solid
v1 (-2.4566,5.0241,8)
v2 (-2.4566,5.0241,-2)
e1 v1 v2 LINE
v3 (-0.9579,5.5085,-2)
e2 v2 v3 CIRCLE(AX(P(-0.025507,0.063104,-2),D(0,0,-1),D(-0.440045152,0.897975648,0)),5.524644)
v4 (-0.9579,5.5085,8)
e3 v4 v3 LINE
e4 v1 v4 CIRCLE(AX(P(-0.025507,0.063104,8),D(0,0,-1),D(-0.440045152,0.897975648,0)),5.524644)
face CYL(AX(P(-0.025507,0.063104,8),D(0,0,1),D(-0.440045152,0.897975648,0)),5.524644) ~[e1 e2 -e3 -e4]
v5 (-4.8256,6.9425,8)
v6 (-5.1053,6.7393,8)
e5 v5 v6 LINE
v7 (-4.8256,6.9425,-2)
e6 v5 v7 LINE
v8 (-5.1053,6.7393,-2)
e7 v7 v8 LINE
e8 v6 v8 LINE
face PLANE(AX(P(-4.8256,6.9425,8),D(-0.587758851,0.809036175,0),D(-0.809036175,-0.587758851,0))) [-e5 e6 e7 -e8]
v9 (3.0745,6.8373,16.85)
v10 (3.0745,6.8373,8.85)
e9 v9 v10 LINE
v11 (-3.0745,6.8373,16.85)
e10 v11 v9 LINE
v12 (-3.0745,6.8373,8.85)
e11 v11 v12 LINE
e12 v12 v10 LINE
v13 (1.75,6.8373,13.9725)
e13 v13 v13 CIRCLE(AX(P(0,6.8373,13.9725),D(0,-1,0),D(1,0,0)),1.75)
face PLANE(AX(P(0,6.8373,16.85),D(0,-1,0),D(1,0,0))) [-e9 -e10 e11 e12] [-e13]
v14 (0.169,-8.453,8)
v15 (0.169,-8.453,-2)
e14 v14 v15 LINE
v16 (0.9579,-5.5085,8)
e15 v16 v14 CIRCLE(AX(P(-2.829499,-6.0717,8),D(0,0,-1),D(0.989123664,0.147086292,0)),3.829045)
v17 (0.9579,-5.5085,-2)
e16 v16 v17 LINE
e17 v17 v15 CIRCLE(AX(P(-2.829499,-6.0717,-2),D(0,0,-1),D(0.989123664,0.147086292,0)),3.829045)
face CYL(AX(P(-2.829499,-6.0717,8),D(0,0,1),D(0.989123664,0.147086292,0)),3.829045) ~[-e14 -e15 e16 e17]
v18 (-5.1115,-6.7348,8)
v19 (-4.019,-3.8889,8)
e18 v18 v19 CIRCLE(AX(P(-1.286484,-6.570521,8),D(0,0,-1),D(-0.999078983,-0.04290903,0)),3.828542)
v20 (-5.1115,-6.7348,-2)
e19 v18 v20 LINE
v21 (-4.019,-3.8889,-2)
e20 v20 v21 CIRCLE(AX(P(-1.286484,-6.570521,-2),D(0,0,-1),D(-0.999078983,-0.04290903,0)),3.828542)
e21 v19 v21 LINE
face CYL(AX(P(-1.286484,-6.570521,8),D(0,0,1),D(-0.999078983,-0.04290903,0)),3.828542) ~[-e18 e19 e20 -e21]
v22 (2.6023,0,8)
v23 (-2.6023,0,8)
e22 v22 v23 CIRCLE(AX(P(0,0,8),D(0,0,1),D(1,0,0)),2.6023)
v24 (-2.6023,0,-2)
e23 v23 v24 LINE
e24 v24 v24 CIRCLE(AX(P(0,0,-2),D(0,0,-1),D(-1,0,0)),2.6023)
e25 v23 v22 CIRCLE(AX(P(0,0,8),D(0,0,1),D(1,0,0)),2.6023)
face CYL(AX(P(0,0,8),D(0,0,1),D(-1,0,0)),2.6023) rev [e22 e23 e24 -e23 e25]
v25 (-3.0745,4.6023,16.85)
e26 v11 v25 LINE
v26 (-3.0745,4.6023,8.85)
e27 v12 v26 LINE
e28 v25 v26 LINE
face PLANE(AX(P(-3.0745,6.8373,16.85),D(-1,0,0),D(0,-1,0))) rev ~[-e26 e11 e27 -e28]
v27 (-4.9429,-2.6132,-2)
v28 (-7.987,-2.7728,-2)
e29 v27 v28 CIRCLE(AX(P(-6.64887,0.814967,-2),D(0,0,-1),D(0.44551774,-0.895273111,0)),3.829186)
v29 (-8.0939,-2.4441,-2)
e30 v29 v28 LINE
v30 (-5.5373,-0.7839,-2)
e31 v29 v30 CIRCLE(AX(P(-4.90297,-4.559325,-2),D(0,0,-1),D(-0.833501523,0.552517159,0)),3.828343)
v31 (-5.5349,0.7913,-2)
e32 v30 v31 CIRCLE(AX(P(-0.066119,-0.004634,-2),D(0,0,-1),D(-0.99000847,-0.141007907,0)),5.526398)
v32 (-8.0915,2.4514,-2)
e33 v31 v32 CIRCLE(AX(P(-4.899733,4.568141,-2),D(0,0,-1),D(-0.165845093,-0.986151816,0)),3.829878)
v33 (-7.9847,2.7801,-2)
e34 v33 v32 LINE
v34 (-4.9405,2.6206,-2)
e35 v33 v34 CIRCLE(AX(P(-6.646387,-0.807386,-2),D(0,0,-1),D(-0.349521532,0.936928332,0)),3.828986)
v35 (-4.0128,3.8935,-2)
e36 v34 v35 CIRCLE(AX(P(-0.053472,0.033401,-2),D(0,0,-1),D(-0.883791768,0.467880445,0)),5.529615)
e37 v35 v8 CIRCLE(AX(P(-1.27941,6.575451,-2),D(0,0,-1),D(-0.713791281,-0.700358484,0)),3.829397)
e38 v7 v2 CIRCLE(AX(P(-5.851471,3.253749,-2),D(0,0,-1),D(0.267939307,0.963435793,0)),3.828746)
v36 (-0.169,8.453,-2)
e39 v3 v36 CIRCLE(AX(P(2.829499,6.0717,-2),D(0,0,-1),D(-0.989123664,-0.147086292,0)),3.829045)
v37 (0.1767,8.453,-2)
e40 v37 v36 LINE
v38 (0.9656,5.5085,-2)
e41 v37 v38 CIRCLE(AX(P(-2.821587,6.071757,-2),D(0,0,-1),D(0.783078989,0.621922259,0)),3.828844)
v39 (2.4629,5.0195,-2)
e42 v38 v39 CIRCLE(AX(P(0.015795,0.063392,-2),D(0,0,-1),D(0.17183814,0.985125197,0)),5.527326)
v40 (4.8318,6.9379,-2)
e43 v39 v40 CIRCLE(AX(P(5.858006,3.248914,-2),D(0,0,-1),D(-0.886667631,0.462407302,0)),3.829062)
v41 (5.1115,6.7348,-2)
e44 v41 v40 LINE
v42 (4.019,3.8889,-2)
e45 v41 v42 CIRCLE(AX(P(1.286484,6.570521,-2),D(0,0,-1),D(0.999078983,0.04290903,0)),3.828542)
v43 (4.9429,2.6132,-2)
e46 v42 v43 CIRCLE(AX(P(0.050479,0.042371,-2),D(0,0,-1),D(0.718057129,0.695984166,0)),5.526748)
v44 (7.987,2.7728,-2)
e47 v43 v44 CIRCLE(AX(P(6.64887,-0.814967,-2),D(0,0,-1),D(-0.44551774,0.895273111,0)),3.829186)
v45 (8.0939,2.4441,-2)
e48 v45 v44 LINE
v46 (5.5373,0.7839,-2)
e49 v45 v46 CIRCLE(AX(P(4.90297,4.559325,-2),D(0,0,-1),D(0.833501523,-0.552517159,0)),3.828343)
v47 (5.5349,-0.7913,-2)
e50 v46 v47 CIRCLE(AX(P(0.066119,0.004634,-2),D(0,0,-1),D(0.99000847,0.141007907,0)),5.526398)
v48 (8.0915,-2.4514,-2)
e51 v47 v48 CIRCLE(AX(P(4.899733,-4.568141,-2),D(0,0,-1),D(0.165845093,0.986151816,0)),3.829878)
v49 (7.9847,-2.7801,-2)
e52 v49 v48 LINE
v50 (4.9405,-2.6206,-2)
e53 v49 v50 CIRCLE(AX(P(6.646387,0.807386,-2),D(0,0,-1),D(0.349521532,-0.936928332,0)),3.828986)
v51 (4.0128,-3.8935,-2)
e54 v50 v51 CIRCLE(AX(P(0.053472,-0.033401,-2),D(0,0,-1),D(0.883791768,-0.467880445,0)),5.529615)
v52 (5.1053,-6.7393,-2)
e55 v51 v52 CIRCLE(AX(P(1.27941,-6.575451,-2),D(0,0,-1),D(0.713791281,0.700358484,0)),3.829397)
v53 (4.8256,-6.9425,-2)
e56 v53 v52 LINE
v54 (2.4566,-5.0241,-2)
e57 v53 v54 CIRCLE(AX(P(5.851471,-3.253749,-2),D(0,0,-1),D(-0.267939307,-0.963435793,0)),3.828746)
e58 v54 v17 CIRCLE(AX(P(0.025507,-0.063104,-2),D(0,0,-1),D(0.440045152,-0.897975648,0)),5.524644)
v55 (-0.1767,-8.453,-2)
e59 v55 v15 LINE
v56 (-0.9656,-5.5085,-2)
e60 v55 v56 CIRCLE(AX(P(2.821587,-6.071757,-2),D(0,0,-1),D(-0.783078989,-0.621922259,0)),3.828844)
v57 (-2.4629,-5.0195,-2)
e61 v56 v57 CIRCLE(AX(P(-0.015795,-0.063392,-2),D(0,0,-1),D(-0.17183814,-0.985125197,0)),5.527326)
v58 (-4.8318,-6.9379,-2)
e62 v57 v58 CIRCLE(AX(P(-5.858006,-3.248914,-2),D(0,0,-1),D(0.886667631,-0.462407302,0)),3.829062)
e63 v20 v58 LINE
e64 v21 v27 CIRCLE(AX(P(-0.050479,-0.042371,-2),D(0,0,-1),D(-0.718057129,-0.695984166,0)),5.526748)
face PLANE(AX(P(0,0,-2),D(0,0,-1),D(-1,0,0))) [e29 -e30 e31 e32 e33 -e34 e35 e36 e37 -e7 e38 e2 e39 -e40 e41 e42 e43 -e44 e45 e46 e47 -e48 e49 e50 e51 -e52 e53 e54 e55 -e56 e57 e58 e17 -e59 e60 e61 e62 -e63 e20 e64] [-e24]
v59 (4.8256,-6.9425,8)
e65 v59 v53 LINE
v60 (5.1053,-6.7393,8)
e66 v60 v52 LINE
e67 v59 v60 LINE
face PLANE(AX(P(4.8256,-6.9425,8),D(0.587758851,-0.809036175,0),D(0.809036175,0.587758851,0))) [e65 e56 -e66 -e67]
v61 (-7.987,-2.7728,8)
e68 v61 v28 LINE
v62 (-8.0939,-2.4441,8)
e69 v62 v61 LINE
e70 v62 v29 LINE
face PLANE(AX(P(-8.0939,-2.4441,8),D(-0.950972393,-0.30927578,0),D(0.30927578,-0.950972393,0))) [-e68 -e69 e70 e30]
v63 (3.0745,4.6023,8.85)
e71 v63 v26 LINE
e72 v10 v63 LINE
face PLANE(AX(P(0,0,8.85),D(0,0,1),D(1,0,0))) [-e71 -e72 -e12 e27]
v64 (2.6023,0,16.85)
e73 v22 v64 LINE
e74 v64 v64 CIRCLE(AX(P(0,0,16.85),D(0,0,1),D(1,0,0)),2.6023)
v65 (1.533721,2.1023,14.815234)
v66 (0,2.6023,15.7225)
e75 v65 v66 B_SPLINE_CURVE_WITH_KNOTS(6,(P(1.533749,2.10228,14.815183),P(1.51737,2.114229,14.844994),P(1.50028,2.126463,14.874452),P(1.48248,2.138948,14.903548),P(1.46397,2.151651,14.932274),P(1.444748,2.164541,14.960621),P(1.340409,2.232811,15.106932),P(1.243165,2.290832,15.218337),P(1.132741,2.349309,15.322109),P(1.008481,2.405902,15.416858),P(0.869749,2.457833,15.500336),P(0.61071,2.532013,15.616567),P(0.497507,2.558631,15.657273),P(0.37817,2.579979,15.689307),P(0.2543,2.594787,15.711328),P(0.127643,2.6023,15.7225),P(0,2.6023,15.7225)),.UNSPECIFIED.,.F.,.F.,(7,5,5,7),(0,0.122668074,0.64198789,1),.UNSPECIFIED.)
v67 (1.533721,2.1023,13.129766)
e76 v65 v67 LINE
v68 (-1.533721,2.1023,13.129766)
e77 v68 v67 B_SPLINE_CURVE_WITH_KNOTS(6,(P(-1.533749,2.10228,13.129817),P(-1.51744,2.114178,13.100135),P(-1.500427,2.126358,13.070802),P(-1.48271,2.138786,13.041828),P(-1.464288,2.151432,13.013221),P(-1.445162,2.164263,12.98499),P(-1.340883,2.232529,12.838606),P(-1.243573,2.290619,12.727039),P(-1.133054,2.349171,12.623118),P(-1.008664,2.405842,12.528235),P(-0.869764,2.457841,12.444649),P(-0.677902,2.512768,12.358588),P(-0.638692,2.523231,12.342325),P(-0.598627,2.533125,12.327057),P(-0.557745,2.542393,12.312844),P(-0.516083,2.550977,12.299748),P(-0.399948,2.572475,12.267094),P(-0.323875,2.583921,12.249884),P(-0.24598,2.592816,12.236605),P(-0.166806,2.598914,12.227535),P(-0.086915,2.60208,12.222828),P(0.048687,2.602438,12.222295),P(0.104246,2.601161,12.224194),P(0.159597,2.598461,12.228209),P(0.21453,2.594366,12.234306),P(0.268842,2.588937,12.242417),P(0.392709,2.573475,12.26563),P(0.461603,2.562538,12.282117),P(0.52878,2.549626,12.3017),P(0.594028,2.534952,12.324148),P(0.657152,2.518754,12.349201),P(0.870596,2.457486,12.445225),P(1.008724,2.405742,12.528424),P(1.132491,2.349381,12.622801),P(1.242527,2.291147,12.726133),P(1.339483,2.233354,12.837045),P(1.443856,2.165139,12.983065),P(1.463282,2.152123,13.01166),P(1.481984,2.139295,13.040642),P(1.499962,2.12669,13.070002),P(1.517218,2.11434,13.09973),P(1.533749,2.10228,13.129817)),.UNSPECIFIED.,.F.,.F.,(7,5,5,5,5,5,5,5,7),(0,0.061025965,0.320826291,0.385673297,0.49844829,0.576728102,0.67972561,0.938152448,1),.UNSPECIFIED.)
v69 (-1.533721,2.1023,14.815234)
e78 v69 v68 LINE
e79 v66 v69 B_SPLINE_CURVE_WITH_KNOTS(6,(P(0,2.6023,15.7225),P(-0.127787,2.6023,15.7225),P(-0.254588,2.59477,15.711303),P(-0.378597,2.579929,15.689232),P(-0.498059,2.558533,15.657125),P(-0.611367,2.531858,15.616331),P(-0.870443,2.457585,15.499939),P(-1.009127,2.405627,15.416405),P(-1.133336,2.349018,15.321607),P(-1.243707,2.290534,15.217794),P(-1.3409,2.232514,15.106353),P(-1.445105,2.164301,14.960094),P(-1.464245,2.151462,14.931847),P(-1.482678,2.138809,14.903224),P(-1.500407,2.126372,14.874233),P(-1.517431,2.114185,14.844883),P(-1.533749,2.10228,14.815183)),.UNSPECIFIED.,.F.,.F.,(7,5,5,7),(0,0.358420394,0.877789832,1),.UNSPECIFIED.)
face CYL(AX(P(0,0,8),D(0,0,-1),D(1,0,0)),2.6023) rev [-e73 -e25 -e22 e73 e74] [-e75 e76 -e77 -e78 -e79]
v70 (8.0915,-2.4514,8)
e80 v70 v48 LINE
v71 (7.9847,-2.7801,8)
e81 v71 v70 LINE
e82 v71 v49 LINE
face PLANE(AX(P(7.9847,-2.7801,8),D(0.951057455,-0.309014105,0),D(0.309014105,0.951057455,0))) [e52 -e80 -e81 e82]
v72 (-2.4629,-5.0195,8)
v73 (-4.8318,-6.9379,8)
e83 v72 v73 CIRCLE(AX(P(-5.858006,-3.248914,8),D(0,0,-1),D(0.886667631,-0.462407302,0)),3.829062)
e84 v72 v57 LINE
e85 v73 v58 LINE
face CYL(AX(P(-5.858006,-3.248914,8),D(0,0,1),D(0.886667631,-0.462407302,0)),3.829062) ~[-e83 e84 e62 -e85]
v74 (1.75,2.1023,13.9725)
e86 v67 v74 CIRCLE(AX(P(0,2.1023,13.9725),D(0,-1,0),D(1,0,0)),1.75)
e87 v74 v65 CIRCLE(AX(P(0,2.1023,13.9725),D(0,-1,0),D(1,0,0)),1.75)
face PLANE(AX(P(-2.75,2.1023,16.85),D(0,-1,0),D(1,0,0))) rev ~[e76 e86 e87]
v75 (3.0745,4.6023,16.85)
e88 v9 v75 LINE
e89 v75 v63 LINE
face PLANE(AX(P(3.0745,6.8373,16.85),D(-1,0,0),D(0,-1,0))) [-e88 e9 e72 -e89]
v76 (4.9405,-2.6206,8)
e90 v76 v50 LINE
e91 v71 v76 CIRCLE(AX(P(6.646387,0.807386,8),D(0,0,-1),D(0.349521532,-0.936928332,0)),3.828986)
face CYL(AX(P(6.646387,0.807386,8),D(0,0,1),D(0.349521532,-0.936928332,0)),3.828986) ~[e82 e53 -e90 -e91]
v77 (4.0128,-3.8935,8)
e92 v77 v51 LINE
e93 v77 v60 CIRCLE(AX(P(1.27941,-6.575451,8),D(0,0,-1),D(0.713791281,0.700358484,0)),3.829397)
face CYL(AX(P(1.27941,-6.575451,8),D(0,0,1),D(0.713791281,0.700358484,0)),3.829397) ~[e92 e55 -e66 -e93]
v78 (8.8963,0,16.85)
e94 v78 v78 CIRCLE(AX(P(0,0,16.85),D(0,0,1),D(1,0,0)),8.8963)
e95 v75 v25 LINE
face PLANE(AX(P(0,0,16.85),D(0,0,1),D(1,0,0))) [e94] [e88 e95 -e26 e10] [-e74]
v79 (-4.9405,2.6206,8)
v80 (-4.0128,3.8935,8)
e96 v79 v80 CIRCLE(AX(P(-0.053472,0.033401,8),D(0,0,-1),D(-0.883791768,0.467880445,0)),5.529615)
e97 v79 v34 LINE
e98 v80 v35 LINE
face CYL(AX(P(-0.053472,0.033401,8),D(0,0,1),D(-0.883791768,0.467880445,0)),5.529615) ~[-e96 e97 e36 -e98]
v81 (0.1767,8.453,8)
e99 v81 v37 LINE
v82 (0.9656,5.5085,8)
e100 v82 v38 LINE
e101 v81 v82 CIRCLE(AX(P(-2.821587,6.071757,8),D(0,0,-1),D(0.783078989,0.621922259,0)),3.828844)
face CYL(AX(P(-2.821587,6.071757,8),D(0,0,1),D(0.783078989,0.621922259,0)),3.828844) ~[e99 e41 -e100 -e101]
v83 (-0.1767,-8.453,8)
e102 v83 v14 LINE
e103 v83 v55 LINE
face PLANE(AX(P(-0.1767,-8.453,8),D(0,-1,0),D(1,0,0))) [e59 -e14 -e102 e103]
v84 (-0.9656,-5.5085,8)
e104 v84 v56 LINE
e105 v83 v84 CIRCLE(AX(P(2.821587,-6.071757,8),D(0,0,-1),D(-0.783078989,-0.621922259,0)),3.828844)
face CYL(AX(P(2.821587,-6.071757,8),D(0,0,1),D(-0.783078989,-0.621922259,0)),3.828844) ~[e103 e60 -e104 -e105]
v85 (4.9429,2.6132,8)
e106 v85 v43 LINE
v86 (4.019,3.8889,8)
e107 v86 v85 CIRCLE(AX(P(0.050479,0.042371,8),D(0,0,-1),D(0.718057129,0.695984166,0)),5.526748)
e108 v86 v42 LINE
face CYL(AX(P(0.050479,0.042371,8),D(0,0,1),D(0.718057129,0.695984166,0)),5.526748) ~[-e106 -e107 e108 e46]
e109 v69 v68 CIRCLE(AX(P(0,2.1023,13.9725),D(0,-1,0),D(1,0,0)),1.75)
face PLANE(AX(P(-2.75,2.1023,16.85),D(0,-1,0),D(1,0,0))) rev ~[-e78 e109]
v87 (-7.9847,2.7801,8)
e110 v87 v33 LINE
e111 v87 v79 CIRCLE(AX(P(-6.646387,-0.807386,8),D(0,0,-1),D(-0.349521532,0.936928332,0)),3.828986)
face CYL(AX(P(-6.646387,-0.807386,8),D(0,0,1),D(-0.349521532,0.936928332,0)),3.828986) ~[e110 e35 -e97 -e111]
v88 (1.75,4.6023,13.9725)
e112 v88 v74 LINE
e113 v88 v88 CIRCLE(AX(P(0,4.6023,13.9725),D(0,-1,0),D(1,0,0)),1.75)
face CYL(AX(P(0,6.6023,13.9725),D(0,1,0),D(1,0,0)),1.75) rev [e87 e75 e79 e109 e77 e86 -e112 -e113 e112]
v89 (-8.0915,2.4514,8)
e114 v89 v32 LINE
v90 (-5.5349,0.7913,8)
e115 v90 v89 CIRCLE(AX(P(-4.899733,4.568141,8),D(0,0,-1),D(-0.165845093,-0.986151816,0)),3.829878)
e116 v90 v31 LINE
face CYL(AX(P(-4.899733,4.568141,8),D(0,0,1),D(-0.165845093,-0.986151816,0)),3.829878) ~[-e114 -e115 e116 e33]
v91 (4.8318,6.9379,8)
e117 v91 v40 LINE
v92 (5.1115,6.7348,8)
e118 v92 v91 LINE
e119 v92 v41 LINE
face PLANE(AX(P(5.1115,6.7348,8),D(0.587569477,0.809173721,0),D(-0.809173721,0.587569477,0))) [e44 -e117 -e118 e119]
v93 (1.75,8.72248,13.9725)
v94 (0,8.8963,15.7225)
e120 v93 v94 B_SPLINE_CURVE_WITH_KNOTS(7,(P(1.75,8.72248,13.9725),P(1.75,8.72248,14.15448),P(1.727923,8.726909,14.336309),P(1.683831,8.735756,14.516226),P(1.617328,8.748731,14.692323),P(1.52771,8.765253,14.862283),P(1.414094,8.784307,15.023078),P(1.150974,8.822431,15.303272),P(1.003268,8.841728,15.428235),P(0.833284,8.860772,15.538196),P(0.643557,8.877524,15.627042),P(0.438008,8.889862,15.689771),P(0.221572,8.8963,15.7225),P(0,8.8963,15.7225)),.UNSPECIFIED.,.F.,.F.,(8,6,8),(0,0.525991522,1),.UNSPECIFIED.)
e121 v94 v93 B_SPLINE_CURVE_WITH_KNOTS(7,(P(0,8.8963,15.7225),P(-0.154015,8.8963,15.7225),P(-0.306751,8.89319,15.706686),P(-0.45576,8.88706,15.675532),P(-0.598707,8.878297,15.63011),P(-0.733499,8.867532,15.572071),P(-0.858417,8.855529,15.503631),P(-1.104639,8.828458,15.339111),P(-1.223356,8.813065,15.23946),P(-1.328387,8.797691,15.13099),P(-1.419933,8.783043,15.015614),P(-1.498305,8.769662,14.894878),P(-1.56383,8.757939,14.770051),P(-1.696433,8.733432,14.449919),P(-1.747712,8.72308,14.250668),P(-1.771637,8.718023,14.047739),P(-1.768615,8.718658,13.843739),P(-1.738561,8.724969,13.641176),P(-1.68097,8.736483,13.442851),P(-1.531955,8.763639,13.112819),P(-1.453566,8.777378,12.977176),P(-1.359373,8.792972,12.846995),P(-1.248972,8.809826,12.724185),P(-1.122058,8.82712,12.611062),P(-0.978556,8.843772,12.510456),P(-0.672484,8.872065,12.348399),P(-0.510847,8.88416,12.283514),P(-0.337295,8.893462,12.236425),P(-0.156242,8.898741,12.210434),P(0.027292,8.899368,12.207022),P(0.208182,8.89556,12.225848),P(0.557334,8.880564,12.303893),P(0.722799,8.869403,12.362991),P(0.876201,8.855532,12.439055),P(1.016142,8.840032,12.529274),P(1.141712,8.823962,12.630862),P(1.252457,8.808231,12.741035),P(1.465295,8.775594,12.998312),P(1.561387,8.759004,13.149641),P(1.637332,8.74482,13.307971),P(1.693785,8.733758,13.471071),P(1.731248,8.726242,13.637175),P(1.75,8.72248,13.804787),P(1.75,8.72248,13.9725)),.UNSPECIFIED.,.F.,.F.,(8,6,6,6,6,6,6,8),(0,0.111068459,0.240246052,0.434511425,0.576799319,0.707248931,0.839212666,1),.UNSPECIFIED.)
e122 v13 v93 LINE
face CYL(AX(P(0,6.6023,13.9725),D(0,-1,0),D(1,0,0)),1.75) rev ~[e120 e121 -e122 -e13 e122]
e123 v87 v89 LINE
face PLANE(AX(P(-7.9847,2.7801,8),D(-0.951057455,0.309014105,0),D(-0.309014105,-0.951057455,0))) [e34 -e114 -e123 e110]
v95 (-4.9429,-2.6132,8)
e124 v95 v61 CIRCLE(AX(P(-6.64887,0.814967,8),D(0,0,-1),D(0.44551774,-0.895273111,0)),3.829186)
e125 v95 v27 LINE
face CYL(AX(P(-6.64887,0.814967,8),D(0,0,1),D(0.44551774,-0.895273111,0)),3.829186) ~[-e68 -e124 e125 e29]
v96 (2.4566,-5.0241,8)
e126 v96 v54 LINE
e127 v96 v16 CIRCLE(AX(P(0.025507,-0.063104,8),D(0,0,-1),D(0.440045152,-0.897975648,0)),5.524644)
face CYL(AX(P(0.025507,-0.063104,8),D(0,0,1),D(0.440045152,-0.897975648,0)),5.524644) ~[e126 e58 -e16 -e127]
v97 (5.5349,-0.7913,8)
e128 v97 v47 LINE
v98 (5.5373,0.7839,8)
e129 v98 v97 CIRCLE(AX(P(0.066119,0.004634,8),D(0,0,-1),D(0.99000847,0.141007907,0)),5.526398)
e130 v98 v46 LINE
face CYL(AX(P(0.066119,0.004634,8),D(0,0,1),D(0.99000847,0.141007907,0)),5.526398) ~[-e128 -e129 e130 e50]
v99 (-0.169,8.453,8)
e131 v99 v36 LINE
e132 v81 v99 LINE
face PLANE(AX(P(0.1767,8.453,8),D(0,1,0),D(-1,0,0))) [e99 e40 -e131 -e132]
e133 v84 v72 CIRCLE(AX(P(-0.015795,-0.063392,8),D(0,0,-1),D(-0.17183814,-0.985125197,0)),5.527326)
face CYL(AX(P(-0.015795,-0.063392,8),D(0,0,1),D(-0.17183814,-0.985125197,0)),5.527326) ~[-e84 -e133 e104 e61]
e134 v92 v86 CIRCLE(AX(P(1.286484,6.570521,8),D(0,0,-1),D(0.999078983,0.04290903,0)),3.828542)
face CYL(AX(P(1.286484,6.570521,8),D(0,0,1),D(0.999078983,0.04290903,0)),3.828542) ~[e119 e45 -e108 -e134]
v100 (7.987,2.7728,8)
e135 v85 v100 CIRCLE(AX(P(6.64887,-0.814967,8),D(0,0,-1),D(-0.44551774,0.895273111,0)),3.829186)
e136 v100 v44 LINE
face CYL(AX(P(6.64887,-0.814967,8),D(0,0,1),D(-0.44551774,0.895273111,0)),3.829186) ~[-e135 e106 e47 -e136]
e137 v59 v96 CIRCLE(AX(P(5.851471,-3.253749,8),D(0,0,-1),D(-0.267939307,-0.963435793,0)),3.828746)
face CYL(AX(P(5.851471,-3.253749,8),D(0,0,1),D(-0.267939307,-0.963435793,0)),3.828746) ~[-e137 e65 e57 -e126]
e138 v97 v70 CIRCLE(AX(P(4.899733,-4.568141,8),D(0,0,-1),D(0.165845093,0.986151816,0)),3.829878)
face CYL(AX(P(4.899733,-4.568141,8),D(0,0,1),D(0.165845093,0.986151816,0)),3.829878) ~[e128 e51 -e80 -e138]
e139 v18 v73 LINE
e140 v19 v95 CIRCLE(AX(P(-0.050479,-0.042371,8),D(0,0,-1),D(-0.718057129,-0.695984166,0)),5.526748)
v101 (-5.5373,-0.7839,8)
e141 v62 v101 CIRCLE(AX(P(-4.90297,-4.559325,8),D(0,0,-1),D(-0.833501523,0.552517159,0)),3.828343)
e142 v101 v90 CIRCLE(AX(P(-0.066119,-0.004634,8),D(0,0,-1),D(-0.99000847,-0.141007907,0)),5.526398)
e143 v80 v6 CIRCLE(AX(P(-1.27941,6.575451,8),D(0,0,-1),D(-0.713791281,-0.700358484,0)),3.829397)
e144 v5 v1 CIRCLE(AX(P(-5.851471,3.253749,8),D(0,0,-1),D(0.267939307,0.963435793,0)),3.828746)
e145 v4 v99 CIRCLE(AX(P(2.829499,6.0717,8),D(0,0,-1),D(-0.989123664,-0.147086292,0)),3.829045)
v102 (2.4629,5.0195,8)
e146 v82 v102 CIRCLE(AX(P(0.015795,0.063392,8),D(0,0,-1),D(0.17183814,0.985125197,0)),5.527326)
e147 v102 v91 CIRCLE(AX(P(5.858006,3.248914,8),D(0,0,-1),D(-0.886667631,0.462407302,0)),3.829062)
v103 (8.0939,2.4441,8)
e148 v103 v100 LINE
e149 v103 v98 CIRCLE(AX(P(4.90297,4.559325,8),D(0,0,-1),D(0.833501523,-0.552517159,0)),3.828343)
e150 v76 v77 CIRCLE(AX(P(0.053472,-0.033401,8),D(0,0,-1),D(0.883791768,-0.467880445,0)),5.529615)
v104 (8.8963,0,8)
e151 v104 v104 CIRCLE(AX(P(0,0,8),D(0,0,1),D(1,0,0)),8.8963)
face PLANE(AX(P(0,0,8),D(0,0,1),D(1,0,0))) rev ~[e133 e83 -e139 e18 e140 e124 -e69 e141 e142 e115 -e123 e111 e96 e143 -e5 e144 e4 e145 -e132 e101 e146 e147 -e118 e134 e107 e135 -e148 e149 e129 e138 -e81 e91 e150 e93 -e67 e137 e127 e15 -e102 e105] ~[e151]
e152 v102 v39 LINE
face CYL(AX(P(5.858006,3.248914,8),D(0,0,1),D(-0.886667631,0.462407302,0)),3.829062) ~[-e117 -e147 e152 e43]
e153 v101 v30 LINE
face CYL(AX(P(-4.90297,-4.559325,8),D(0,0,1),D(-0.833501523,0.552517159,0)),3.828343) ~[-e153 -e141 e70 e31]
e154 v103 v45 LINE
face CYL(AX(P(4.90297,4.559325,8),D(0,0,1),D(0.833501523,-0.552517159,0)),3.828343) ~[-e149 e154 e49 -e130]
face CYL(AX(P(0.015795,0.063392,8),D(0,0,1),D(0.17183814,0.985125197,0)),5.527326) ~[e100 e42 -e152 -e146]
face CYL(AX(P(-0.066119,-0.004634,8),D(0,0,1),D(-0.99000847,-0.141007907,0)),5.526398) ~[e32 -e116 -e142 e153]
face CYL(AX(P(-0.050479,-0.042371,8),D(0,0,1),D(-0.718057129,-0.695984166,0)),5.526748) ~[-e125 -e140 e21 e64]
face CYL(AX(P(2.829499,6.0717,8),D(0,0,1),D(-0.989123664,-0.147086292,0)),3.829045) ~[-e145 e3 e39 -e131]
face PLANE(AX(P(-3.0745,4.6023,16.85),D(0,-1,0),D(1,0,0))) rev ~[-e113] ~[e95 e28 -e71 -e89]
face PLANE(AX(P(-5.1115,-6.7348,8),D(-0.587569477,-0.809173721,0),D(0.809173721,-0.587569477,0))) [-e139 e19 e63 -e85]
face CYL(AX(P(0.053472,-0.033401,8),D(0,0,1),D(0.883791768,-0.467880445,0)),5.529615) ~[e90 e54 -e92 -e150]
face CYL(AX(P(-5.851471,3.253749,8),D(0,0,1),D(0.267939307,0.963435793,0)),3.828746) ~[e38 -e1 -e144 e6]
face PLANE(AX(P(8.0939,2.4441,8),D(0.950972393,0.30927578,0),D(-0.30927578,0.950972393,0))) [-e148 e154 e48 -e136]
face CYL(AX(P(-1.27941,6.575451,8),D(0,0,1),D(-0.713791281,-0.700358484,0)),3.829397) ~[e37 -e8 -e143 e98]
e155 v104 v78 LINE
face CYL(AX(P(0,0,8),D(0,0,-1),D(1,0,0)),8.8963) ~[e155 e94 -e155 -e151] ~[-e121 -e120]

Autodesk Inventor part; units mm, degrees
ref_plane "YZ Plane" through (0, 0, 0) normal (1, 0, 0) x (0, 1, 0)
ref_plane "XZ Plane" through (0, 0, 0) normal (0, 1, 0) x (-1, 0, 0)
ref_plane "XY Plane" through (0, 0, 0) normal (0, 0, 1) x (1, 0, 0)
ref_plane "Work Plane1" through (0, 0, 8) normal (0, 0, 1) x (1, 0, 0)
sketch "Sketch1" plane through (0, 0, 0) normal (0, 0, 1) x (1, 0, 0)
  circle A0 centre (0, 0) radius 2.6023
  line L0 (-0.1767, 8.453) -> (0.1689, 8.453)
  line L1 (0.1689, 8.453) -> (0.9579, 5.5085) construction
  arc A1 (-0.1767, 8.453) -> (-0.9656, 5.5084) centre (2.8217, 6.0717) ccw
  line L2 (-5.1115, 6.7348) -> (-4.8319, 6.9379)
  arc A2 (-2.4629, 5.0195) -> (-4.8319, 6.9379) centre (-5.8579, 3.249) ccw
  line L3 (-4.8319, 6.9379) -> (-2.4629, 5.0195) construction
  arc A3 (-5.1115, 6.7348) -> (-4.0189, 3.8888) centre (-1.286, 6.5706) ccw
  line L4 (-8.0939, 2.4441) -> (-7.9871, 2.7727)
  arc A4 (-4.9429, 2.6132) -> (-7.9871, 2.7727) centre (-6.6488, -0.8147) ccw
  line L5 (-7.9871, 2.7727) -> (-4.9429, 2.6132) construction
  arc A5 (-8.0939, 2.4441) -> (-5.5371, 0.7838) centre (-4.9025, 4.5598) ccw
  line L6 (-7.9847, -2.7801) -> (-8.0915, -2.4515)
  arc A6 (-5.5349, -0.7913) -> (-8.0915, -2.4515) centre (-4.9001, -4.5672) ccw
  line L7 (-8.0915, -2.4515) -> (-5.5349, -0.7913) construction
  arc A7 (-7.9847, -2.7801) -> (-4.9404, -2.6205) centre (-6.6464, 0.8073) ccw
  line L8 (-4.8256, -6.9425) -> (-5.1052, -6.7393)
  arc A8 (-4.0128, -3.8935) -> (-5.1052, -6.7393) centre (-1.2798, -6.5752) ccw
  line L9 (-5.1052, -6.7393) -> (-4.0128, -3.8935) construction
  line L10 (0.1767, -8.453) -> (-0.1689, -8.453)
  arc A9 (-0.9579, -5.5085) -> (-0.1689, -8.453) centre (2.8295, -6.0717) ccw
  line L11 (-0.1689, -8.453) -> (-0.9579, -5.5085) construction
  arc A10 (0.1767, -8.453) -> (0.9656, -5.5084) centre (-2.8217, -6.0717) ccw
  line L12 (5.1115, -6.7348) -> (4.8319, -6.9379)
  arc A11 (2.4629, -5.0195) -> (4.8319, -6.9379) centre (5.8579, -3.249) ccw
  line L13 (4.8319, -6.9379) -> (2.4629, -5.0195) construction
  arc A12 (5.1115, -6.7348) -> (4.0189, -3.8888) centre (1.286, -6.5706) ccw
  line L14 (8.0939, -2.4441) -> (7.9871, -2.7727)
  arc A13 (3.3182, -1.074) -> (8.2332, -2.671) centre (6.6488, 0.8147) ccw
  line L15 (7.9871, -2.7727) -> (4.9429, -2.6132) construction
  line L16 (7.9847, 2.7801) -> (8.0915, 2.4515)
  arc A14 (5.5349, 0.7913) -> (8.0915, 2.4515) centre (4.9001, 4.5672) ccw
  line L17 (8.0915, 2.4515) -> (4.0908, -0.1465) construction
  arc A15 (7.9847, 2.7801) -> (4.9404, 2.6205) centre (6.6464, -0.8073) ccw
  line L18 (4.8256, 6.9425) -> (5.1052, 6.7393)
  arc A16 (4.0128, 3.8935) -> (5.1052, 6.7393) centre (1.2798, 6.5752) ccw
  line L19 (5.1052, 6.7393) -> (4.0128, 3.8935) construction
  arc A17 (-5.5371, 0.7838) -> (-5.536, -0.7919) centre (0, 0) ccw
  arc A18 (-4.0189, 3.8888) -> (-4.9442, 2.6133) centre (0, 0) ccw
  arc A19 (2.4565, 5.0239) -> (0.9575, 5.5098) centre (0, 0) ccw
  arc A20 (4.9404, 2.6205) -> (4.0132, 3.8947) centre (0, 0) ccw
  arc A21 (4.9442, -2.6133) -> (5.536, 0.7919) centre (0, 0) ccw
  arc A22 (2.4639, -5.0203) -> (4.9442, -2.6133) centre (0, 0) ccw
  arc A23 (0.9656, -5.5084) -> (2.4639, -5.0203) centre (0, 0) ccw
  arc A24 (-4.9404, -2.6205) -> (-4.0132, -3.8947) centre (0, 0) ccw
  arc A25 (-2.4565, -5.0239) -> (-0.9575, -5.5098) centre (0, 0) ccw
  arc A26 (0.9579, 5.5085) -> (0.1689, 8.453) centre (-2.8295, 6.0717) ccw
  arc A27 (-2.1474, 2.3039) -> (-1.5764, 2.4536) centre (-2.8295, 6.0717) ccw
  arc A28 (-3.1006, 2.2523) -> (-3.0363, 2.2483) centre (-2.8295, 6.0717) ccw
  arc A29 (4.8256, 6.9425) -> (2.4565, 5.0239) centre (5.8516, 3.2535) ccw
  circle A30 centre (4.9025, -4.5598) radius 3.829
  arc A31 (1.7403, -2.4009) -> (1.7114, -2.4439) centre (4.9025, -4.5598) ccw
  arc A32 (1.1846, -3.6447) -> (1.1248, -3.9359) centre (4.9025, -4.5598) ccw
  arc A33 (-4.8256, -6.9425) -> (-2.4565, -5.0239) centre (-5.8516, -3.2535) ccw
  arc A34 (-2.1424, -2.3034) -> (-2.3452, -1.7153) centre (-5.8516, -3.2535) ccw
  arc A35 (-0.9656, 5.5084) -> (-2.4639, 5.0203) centre (0, 0) ccw
  arc A36 (-4.0189, 3.8888) -> (-4.9442, 2.6133) centre (0, 0) ccw
  point P0 (-0.7682, 6.1639)
  point P1 (0.7605, 6.1646)
  point P2 (-4.2445, 4.5351)
  point P3 (-3.0082, 5.4342)
  point P4 (-6.0996, 1.1741)
  point P5 (-5.6279, 2.6282)
  point P6 (-5.6248, -2.6354)
  point P7 (-6.0979, -1.1817)
  point P8 (-3.0015, -5.4382)
  point P9 (-4.2387, -4.5403)
  point P10 (0.7682, -6.1639)
  point P11 (-0.7605, -6.1646)
  point P12 (4.2445, -4.5351)
  point P13 (3.0082, -5.4342)
  point P14 (6.0996, -1.1741)
  point P15 (5.6279, -2.6282)
  point P16 (5.6248, 2.6354)
  point P17 (6.0979, 1.1817)
  point P18 (3.0015, 5.4382)
  point P19 (4.2387, 4.5403)
sketch "Sketch2" plane through (0, 0, 8) normal (0, 0, 1) x (1, 0, 0)
  circle A0 centre (0, 0) radius 2.6023 projected
  arc A1 (-5.2272, 2.3957) -> (-5.6389, 1.125) centre (0, 0) ccw projected
  circle A2 centre (0, 0) radius 8.8963
  dimension "d8" = 17.7926
extrude "Extrusion2" add sketch "Sketch2" along normal blind 8.85
ref_plane "Work Plane2" through (0, 0, 16.85) normal (0, 0, 1) x (1, 0, 0)
sketch "Sketch3" plane through (0, 0, 16.85) normal (0, 0, 1) x (1, 0, 0)
  circle A0 centre (0, 0) radius 2.6023 projected
  circle A1 centre (0, 0) radius 8.8963 projected
  line L0 (0, 6.8373) -> (3.0745, 6.8373)
  line L1 (3.0745, 6.8373) -> (3.0745, 4.6023)
  line L2 (3.0745, 4.6023) -> (0, 4.6023)
  line L3 (0, 6.8373) -> (-3.0745, 6.8373)
  line L4 (-3.0745, 6.8373) -> (-3.0745, 4.6023)
  line L5 (-3.0745, 4.6023) -> (0, 4.6023)
  line L6 (0, -4.8344) -> (3.0745, -4.8344)
  line L7 (3.0745, -4.8344) -> (3.0745, -7.0696)
  line L8 (3.0745, -7.0696) -> (0, -7.0696)
  line L9 (0, -4.8344) -> (-3.0745, -4.8344)
  line L10 (-3.0745, -4.8344) -> (-3.0745, -7.0696)
  line L11 (-3.0745, -7.0696) -> (0, -7.0696)
  line L12 (0, -9.0696) -> (0, -7.0696)
  line L13 (0, 2.6023) -> (0, 3.7788)
  line L14 (0, 3.7788) -> (0, 4.6023)
  dimension "d10" = 2.235
  dimension "d11" = 2
  dimension "d31" = 2.2352
  dimension "d32" = 6.149
  dimension "d33" = 6.149
extrude "Extrusion3" cut sketch "Sketch3" against normal blind 8 contours L5 L4 L3 L0 L1 L2
ref_plane "Work Plane3" through (-2.75, 6.6023, 16.85) normal (0, -1, 0) x (1, 0, 0)
sketch "Sketch4" plane through (-2.75, 6.6023, 16.85) normal (0, -1, 0) x (1, 0, 0)
  line L0 (5.5, 0) -> (5.5, -8) projected
  line L1 (2.75, 0.553) -> (2.75, -3.197)
  circle A0 centre (2.75, -2.8775) radius 1.75
  point P0 (2.75, -16.85)
  dimension "d14" = 3.75
  dimension "d15" = 3.5
extrude "Extrusion4" cut sketch "Sketch4" along normal mid plane 9
sketch "Sketch5" plane through (0, 0, 8) normal (0, 0, -1) x (-1, 0, 0)
  circle A0 centre (0, 0) radius 2.6023 projected
  circle A1 centre (0, 0) radius 8.8963 projected
  line L0 (-0.1767, 8.453) -> (0.169, 8.453)
  line L1 (0.1689, 8.453) -> (0.9579, 5.5085) construction
  arc A2 (0.9579, 5.5085) -> (0.1689, 8.453) centre (-2.8295, 6.0717) ccw
  circle A3 centre (0, 0) radius 2.6023
  arc A4 (-0.1767, 8.453) -> (-0.9656, 5.5085) centre (2.8217, 6.0717) ccw
  arc A5 (0.9575, 5.5099) -> (0.169, 8.453) centre (-2.8254, 6.0736) ccw
  line L2 (0.1689, 8.453) -> (-0.1767, 8.453)
  arc A6 (-0.1767, 8.453) -> (-0.9656, 5.5085) centre (2.8217, 6.0717) ccw
  line L3 (-5.1115, 6.7348) -> (-4.8318, 6.9379)
  line L4 (-4.8319, 6.9379) -> (-2.4629, 5.0195) construction
  arc A7 (-2.4629, 5.0195) -> (-4.8319, 6.9379) centre (-5.8579, 3.249) ccw
  arc A8 (-5.1115, 6.7348) -> (-4.019, 3.8889) centre (-1.286, 6.5706) ccw
  arc A9 (-2.464, 5.0204) -> (-4.8318, 6.9379) centre (-5.8558, 3.2529) ccw
  line L5 (-4.8319, 6.9379) -> (-5.1115, 6.7348)
  arc A10 (-5.1115, 6.7348) -> (-4.019, 3.8889) centre (-1.286, 6.5706) ccw
  line L6 (-8.0939, 2.4441) -> (-7.987, 2.7728)
  line L7 (-7.9871, 2.7727) -> (-4.9429, 2.6132) construction
  arc A11 (-4.9429, 2.6132) -> (-7.9871, 2.7727) centre (-6.6488, -0.8147) ccw
  arc A12 (-8.0939, 2.4441) -> (-5.5373, 0.7839) centre (-4.9025, 4.5598) ccw
  arc A13 (-4.9444, 2.6133) -> (-7.987, 2.7728) centre (-6.6494, -0.8103) ccw
  line L8 (-7.9871, 2.7727) -> (-8.0939, 2.4441)
  arc A14 (-8.0939, 2.4441) -> (-5.5373, 0.7839) centre (-4.9025, 4.5598) ccw
  line L9 (-7.9847, -2.7801) -> (-8.0915, -2.4514)
  line L10 (-8.0915, -2.4515) -> (-5.5349, -0.7913) construction
  arc A15 (-5.5349, -0.7913) -> (-8.0915, -2.4515) centre (-4.9001, -4.5672) ccw
  arc A16 (-7.9847, -2.7801) -> (-4.9405, -2.6206) centre (-6.6464, 0.8073) ccw
  arc A17 (-5.5361, -0.792) -> (-8.0915, -2.4514) centre (-4.9032, -4.564) ccw
  line L11 (-8.0915, -2.4515) -> (-7.9847, -2.7801)
  arc A18 (-7.9847, -2.7801) -> (-4.9405, -2.6206) centre (-6.6464, 0.8073) ccw
  line L12 (-4.8256, -6.9425) -> (-5.1053, -6.7393)
  line L13 (-5.1052, -6.7393) -> (-4.0128, -3.8935) construction
  arc A19 (-4.0128, -3.8935) -> (-5.1052, -6.7393) centre (-1.2798, -6.5752) ccw
  arc A20 (-4.8256, -6.9425) -> (-2.4566, -5.0241) centre (-5.8516, -3.2535) ccw
  arc A21 (-4.0133, -3.8948) -> (-5.1053, -6.7393) centre (-1.2842, -6.5744) ccw
  line L14 (-5.1052, -6.7393) -> (-4.8256, -6.9425)
  arc A22 (-4.8256, -6.9425) -> (-2.4566, -5.0241) centre (-5.8516, -3.2535) ccw
  line L15 (0.1767, -8.453) -> (-0.169, -8.453)
  line L16 (-0.1689, -8.453) -> (-0.9579, -5.5085) construction
  arc A23 (-0.9579, -5.5085) -> (-0.1689, -8.453) centre (2.8295, -6.0717) ccw
  arc A24 (0.1767, -8.453) -> (0.9656, -5.5085) centre (-2.8217, -6.0717) ccw
  arc A25 (-0.9575, -5.5099) -> (-0.169, -8.453) centre (2.8254, -6.0736) ccw
  line L17 (-0.1689, -8.453) -> (0.1767, -8.453)
  arc A26 (0.1767, -8.453) -> (0.9656, -5.5085) centre (-2.8217, -6.0717) ccw
  line L18 (5.1115, -6.7348) -> (4.8318, -6.9379)
  line L19 (4.8319, -6.9379) -> (2.4629, -5.0195) construction
  arc A27 (2.4629, -5.0195) -> (4.8319, -6.9379) centre (5.8579, -3.249) ccw
  arc A28 (5.1115, -6.7348) -> (4.019, -3.8889) centre (1.286, -6.5706) ccw
  arc A29 (2.464, -5.0204) -> (4.8318, -6.9379) centre (5.8558, -3.2529) ccw
  line L20 (4.8319, -6.9379) -> (5.1115, -6.7348)
  arc A30 (5.1115, -6.7348) -> (4.019, -3.8889) centre (1.286, -6.5706) ccw
  line L21 (8.0939, -2.4441) -> (7.987, -2.7728)
  line L22 (7.9871, -2.7727) -> (4.9429, -2.6132) construction
  arc A31 (4.9429, -2.6132) -> (7.9871, -2.7727) centre (6.6488, 0.8147) ccw
  arc A32 (8.0939, -2.4441) -> (5.5373, -0.7839) centre (4.9025, -4.5598) ccw
  arc A33 (4.9444, -2.6133) -> (7.987, -2.7728) centre (6.6494, 0.8103) ccw
  line L23 (7.9871, -2.7727) -> (8.0939, -2.4441)
  arc A34 (8.0939, -2.4441) -> (5.5373, -0.7839) centre (4.9025, -4.5598) ccw
  line L24 (7.9847, 2.7801) -> (8.0915, 2.4514)
  line L25 (8.0915, 2.4515) -> (5.5349, 0.7913) construction
  arc A35 (5.5349, 0.7913) -> (8.0915, 2.4515) centre (4.9001, 4.5672) ccw
  arc A36 (7.9847, 2.7801) -> (4.9405, 2.6206) centre (6.6464, -0.8073) ccw
  arc A37 (5.5361, 0.792) -> (8.0915, 2.4514) centre (4.9032, 4.564) ccw
  line L26 (8.0915, 2.4515) -> (7.9847, 2.7801)
  arc A38 (7.9847, 2.7801) -> (4.9405, 2.6206) centre (6.6464, -0.8073) ccw
  line L27 (4.8256, 6.9425) -> (5.1053, 6.7393)
  line L28 (5.1052, 6.7393) -> (4.0128, 3.8935) construction
  arc A39 (4.0128, 3.8935) -> (5.1052, 6.7393) centre (1.2798, 6.5752) ccw
  arc A40 (4.8256, 6.9425) -> (2.4566, 5.0241) centre (5.8516, 3.2535) ccw
  arc A41 (4.0133, 3.8948) -> (5.1053, 6.7393) centre (1.2842, 6.5744) ccw
  line L29 (5.1052, 6.7393) -> (4.8256, 6.9425)
  arc A42 (4.8256, 6.9425) -> (2.4566, 5.0241) centre (5.8516, 3.2535) ccw
  arc A43 (2.4566, 5.0241) -> (0.9575, 5.5099) centre (0, 0) ccw
  arc A44 (4.9405, 2.6206) -> (4.0133, 3.8948) centre (0, 0) ccw
  arc A45 (5.5373, -0.7839) -> (5.5361, 0.792) centre (0, 0) ccw
  arc A46 (4.019, -3.8889) -> (4.9444, -2.6133) centre (0, 0) ccw
  arc A47 (0.9656, -5.5085) -> (2.464, -5.0204) centre (0, 0) ccw
  arc A48 (-2.4566, -5.0241) -> (-0.9575, -5.5099) centre (0, 0) ccw
  arc A49 (-4.9405, -2.6206) -> (-4.0133, -3.8948) centre (0, 0) ccw
  arc A50 (-5.5373, 0.7839) -> (-5.5361, -0.792) centre (0, 0) ccw
  arc A51 (-0.9656, 5.5085) -> (-2.464, 5.0204) centre (0, 0) ccw
  arc A52 (-4.019, 3.8889) -> (-4.9444, 2.6133) centre (0, 0) ccw
  point P0 (-0.7682, 6.1639)
  point P1 (0.7605, 6.1646)
  point P2 (-1.286, 6.5706)
  point P3 (1.2798, 6.5752)
  point P4 (0.9575, 5.5098)
  point P5 (-4.9025, 4.5598)
  point P6 (-4.2445, 4.5351)
  point P7 (-2.4639, 5.0203)
  point P8 (-3.0082, 5.4342)
  point P9 (-2.8295, 6.0717)
  point P10 (-6.6464, 0.8073)
  point P11 (-6.0996, 1.1741)
  point P12 (-4.9442, 2.6133)
  point P13 (-5.6279, 2.6282)
  point P14 (-5.8579, 3.249)
  point P15 (-5.8516, -3.2535)
  point P16 (-5.6248, -2.6354)
  point P17 (-5.536, -0.7919)
  point P18 (-6.0979, -1.1817)
  point P19 (-6.6488, -0.8147)
  point P20 (-2.8217, -6.0717)
  point P21 (-3.0015, -5.4382)
  point P22 (-4.0132, -3.8947)
  point P23 (-4.2387, -4.5403)
  point P24 (-4.9001, -4.5672)
  point P25 (1.286, -6.5706)
  point P26 (0.7682, -6.1639)
  point P27 (-0.9575, -5.5098)
  point P28 (-0.7605, -6.1646)
  point P29 (-1.2798, -6.5752)
  point P30 (4.9025, -4.5598)
  point P31 (4.2445, -4.5351)
  point P32 (2.4639, -5.0203)
  point P33 (3.0082, -5.4342)
  point P34 (2.8295, -6.0717)
  point P35 (6.6464, -0.8073)
  point P36 (6.0996, -1.1741)
  point P37 (4.9442, -2.6133)
  point P38 (5.6279, -2.6282)
  point P39 (5.8579, -3.249)
  point P40 (5.8516, 3.2535)
  point P41 (5.6248, 2.6354)
  point P42 (5.536, 0.7919)
  point P43 (6.0979, 1.1817)
  point P44 (6.6488, 0.8147)
  point P45 (2.8217, 6.0717)
  point P46 (3.0015, 5.4382)
  point P47 (4.0132, 3.8947)
  point P48 (4.2387, 4.5403)
  point P49 (4.9001, 4.5672)
  dimension "d27" = 360
extrude "Extrusion5" add sketch "Sketch5" along normal blind 10 contours L0 A2 A43 A40 L27 A39 A44 A36 L24 A35 A45 A32 L21 A31 A46 A28 L18 A27 A47 A24 L15 A23 A48 A20 L12 A19 A49 A16 L9 A15 A50 A12 L6 A11 A52 A8 L3 A7 A51 A4
properties part number "sj-small-gear"
